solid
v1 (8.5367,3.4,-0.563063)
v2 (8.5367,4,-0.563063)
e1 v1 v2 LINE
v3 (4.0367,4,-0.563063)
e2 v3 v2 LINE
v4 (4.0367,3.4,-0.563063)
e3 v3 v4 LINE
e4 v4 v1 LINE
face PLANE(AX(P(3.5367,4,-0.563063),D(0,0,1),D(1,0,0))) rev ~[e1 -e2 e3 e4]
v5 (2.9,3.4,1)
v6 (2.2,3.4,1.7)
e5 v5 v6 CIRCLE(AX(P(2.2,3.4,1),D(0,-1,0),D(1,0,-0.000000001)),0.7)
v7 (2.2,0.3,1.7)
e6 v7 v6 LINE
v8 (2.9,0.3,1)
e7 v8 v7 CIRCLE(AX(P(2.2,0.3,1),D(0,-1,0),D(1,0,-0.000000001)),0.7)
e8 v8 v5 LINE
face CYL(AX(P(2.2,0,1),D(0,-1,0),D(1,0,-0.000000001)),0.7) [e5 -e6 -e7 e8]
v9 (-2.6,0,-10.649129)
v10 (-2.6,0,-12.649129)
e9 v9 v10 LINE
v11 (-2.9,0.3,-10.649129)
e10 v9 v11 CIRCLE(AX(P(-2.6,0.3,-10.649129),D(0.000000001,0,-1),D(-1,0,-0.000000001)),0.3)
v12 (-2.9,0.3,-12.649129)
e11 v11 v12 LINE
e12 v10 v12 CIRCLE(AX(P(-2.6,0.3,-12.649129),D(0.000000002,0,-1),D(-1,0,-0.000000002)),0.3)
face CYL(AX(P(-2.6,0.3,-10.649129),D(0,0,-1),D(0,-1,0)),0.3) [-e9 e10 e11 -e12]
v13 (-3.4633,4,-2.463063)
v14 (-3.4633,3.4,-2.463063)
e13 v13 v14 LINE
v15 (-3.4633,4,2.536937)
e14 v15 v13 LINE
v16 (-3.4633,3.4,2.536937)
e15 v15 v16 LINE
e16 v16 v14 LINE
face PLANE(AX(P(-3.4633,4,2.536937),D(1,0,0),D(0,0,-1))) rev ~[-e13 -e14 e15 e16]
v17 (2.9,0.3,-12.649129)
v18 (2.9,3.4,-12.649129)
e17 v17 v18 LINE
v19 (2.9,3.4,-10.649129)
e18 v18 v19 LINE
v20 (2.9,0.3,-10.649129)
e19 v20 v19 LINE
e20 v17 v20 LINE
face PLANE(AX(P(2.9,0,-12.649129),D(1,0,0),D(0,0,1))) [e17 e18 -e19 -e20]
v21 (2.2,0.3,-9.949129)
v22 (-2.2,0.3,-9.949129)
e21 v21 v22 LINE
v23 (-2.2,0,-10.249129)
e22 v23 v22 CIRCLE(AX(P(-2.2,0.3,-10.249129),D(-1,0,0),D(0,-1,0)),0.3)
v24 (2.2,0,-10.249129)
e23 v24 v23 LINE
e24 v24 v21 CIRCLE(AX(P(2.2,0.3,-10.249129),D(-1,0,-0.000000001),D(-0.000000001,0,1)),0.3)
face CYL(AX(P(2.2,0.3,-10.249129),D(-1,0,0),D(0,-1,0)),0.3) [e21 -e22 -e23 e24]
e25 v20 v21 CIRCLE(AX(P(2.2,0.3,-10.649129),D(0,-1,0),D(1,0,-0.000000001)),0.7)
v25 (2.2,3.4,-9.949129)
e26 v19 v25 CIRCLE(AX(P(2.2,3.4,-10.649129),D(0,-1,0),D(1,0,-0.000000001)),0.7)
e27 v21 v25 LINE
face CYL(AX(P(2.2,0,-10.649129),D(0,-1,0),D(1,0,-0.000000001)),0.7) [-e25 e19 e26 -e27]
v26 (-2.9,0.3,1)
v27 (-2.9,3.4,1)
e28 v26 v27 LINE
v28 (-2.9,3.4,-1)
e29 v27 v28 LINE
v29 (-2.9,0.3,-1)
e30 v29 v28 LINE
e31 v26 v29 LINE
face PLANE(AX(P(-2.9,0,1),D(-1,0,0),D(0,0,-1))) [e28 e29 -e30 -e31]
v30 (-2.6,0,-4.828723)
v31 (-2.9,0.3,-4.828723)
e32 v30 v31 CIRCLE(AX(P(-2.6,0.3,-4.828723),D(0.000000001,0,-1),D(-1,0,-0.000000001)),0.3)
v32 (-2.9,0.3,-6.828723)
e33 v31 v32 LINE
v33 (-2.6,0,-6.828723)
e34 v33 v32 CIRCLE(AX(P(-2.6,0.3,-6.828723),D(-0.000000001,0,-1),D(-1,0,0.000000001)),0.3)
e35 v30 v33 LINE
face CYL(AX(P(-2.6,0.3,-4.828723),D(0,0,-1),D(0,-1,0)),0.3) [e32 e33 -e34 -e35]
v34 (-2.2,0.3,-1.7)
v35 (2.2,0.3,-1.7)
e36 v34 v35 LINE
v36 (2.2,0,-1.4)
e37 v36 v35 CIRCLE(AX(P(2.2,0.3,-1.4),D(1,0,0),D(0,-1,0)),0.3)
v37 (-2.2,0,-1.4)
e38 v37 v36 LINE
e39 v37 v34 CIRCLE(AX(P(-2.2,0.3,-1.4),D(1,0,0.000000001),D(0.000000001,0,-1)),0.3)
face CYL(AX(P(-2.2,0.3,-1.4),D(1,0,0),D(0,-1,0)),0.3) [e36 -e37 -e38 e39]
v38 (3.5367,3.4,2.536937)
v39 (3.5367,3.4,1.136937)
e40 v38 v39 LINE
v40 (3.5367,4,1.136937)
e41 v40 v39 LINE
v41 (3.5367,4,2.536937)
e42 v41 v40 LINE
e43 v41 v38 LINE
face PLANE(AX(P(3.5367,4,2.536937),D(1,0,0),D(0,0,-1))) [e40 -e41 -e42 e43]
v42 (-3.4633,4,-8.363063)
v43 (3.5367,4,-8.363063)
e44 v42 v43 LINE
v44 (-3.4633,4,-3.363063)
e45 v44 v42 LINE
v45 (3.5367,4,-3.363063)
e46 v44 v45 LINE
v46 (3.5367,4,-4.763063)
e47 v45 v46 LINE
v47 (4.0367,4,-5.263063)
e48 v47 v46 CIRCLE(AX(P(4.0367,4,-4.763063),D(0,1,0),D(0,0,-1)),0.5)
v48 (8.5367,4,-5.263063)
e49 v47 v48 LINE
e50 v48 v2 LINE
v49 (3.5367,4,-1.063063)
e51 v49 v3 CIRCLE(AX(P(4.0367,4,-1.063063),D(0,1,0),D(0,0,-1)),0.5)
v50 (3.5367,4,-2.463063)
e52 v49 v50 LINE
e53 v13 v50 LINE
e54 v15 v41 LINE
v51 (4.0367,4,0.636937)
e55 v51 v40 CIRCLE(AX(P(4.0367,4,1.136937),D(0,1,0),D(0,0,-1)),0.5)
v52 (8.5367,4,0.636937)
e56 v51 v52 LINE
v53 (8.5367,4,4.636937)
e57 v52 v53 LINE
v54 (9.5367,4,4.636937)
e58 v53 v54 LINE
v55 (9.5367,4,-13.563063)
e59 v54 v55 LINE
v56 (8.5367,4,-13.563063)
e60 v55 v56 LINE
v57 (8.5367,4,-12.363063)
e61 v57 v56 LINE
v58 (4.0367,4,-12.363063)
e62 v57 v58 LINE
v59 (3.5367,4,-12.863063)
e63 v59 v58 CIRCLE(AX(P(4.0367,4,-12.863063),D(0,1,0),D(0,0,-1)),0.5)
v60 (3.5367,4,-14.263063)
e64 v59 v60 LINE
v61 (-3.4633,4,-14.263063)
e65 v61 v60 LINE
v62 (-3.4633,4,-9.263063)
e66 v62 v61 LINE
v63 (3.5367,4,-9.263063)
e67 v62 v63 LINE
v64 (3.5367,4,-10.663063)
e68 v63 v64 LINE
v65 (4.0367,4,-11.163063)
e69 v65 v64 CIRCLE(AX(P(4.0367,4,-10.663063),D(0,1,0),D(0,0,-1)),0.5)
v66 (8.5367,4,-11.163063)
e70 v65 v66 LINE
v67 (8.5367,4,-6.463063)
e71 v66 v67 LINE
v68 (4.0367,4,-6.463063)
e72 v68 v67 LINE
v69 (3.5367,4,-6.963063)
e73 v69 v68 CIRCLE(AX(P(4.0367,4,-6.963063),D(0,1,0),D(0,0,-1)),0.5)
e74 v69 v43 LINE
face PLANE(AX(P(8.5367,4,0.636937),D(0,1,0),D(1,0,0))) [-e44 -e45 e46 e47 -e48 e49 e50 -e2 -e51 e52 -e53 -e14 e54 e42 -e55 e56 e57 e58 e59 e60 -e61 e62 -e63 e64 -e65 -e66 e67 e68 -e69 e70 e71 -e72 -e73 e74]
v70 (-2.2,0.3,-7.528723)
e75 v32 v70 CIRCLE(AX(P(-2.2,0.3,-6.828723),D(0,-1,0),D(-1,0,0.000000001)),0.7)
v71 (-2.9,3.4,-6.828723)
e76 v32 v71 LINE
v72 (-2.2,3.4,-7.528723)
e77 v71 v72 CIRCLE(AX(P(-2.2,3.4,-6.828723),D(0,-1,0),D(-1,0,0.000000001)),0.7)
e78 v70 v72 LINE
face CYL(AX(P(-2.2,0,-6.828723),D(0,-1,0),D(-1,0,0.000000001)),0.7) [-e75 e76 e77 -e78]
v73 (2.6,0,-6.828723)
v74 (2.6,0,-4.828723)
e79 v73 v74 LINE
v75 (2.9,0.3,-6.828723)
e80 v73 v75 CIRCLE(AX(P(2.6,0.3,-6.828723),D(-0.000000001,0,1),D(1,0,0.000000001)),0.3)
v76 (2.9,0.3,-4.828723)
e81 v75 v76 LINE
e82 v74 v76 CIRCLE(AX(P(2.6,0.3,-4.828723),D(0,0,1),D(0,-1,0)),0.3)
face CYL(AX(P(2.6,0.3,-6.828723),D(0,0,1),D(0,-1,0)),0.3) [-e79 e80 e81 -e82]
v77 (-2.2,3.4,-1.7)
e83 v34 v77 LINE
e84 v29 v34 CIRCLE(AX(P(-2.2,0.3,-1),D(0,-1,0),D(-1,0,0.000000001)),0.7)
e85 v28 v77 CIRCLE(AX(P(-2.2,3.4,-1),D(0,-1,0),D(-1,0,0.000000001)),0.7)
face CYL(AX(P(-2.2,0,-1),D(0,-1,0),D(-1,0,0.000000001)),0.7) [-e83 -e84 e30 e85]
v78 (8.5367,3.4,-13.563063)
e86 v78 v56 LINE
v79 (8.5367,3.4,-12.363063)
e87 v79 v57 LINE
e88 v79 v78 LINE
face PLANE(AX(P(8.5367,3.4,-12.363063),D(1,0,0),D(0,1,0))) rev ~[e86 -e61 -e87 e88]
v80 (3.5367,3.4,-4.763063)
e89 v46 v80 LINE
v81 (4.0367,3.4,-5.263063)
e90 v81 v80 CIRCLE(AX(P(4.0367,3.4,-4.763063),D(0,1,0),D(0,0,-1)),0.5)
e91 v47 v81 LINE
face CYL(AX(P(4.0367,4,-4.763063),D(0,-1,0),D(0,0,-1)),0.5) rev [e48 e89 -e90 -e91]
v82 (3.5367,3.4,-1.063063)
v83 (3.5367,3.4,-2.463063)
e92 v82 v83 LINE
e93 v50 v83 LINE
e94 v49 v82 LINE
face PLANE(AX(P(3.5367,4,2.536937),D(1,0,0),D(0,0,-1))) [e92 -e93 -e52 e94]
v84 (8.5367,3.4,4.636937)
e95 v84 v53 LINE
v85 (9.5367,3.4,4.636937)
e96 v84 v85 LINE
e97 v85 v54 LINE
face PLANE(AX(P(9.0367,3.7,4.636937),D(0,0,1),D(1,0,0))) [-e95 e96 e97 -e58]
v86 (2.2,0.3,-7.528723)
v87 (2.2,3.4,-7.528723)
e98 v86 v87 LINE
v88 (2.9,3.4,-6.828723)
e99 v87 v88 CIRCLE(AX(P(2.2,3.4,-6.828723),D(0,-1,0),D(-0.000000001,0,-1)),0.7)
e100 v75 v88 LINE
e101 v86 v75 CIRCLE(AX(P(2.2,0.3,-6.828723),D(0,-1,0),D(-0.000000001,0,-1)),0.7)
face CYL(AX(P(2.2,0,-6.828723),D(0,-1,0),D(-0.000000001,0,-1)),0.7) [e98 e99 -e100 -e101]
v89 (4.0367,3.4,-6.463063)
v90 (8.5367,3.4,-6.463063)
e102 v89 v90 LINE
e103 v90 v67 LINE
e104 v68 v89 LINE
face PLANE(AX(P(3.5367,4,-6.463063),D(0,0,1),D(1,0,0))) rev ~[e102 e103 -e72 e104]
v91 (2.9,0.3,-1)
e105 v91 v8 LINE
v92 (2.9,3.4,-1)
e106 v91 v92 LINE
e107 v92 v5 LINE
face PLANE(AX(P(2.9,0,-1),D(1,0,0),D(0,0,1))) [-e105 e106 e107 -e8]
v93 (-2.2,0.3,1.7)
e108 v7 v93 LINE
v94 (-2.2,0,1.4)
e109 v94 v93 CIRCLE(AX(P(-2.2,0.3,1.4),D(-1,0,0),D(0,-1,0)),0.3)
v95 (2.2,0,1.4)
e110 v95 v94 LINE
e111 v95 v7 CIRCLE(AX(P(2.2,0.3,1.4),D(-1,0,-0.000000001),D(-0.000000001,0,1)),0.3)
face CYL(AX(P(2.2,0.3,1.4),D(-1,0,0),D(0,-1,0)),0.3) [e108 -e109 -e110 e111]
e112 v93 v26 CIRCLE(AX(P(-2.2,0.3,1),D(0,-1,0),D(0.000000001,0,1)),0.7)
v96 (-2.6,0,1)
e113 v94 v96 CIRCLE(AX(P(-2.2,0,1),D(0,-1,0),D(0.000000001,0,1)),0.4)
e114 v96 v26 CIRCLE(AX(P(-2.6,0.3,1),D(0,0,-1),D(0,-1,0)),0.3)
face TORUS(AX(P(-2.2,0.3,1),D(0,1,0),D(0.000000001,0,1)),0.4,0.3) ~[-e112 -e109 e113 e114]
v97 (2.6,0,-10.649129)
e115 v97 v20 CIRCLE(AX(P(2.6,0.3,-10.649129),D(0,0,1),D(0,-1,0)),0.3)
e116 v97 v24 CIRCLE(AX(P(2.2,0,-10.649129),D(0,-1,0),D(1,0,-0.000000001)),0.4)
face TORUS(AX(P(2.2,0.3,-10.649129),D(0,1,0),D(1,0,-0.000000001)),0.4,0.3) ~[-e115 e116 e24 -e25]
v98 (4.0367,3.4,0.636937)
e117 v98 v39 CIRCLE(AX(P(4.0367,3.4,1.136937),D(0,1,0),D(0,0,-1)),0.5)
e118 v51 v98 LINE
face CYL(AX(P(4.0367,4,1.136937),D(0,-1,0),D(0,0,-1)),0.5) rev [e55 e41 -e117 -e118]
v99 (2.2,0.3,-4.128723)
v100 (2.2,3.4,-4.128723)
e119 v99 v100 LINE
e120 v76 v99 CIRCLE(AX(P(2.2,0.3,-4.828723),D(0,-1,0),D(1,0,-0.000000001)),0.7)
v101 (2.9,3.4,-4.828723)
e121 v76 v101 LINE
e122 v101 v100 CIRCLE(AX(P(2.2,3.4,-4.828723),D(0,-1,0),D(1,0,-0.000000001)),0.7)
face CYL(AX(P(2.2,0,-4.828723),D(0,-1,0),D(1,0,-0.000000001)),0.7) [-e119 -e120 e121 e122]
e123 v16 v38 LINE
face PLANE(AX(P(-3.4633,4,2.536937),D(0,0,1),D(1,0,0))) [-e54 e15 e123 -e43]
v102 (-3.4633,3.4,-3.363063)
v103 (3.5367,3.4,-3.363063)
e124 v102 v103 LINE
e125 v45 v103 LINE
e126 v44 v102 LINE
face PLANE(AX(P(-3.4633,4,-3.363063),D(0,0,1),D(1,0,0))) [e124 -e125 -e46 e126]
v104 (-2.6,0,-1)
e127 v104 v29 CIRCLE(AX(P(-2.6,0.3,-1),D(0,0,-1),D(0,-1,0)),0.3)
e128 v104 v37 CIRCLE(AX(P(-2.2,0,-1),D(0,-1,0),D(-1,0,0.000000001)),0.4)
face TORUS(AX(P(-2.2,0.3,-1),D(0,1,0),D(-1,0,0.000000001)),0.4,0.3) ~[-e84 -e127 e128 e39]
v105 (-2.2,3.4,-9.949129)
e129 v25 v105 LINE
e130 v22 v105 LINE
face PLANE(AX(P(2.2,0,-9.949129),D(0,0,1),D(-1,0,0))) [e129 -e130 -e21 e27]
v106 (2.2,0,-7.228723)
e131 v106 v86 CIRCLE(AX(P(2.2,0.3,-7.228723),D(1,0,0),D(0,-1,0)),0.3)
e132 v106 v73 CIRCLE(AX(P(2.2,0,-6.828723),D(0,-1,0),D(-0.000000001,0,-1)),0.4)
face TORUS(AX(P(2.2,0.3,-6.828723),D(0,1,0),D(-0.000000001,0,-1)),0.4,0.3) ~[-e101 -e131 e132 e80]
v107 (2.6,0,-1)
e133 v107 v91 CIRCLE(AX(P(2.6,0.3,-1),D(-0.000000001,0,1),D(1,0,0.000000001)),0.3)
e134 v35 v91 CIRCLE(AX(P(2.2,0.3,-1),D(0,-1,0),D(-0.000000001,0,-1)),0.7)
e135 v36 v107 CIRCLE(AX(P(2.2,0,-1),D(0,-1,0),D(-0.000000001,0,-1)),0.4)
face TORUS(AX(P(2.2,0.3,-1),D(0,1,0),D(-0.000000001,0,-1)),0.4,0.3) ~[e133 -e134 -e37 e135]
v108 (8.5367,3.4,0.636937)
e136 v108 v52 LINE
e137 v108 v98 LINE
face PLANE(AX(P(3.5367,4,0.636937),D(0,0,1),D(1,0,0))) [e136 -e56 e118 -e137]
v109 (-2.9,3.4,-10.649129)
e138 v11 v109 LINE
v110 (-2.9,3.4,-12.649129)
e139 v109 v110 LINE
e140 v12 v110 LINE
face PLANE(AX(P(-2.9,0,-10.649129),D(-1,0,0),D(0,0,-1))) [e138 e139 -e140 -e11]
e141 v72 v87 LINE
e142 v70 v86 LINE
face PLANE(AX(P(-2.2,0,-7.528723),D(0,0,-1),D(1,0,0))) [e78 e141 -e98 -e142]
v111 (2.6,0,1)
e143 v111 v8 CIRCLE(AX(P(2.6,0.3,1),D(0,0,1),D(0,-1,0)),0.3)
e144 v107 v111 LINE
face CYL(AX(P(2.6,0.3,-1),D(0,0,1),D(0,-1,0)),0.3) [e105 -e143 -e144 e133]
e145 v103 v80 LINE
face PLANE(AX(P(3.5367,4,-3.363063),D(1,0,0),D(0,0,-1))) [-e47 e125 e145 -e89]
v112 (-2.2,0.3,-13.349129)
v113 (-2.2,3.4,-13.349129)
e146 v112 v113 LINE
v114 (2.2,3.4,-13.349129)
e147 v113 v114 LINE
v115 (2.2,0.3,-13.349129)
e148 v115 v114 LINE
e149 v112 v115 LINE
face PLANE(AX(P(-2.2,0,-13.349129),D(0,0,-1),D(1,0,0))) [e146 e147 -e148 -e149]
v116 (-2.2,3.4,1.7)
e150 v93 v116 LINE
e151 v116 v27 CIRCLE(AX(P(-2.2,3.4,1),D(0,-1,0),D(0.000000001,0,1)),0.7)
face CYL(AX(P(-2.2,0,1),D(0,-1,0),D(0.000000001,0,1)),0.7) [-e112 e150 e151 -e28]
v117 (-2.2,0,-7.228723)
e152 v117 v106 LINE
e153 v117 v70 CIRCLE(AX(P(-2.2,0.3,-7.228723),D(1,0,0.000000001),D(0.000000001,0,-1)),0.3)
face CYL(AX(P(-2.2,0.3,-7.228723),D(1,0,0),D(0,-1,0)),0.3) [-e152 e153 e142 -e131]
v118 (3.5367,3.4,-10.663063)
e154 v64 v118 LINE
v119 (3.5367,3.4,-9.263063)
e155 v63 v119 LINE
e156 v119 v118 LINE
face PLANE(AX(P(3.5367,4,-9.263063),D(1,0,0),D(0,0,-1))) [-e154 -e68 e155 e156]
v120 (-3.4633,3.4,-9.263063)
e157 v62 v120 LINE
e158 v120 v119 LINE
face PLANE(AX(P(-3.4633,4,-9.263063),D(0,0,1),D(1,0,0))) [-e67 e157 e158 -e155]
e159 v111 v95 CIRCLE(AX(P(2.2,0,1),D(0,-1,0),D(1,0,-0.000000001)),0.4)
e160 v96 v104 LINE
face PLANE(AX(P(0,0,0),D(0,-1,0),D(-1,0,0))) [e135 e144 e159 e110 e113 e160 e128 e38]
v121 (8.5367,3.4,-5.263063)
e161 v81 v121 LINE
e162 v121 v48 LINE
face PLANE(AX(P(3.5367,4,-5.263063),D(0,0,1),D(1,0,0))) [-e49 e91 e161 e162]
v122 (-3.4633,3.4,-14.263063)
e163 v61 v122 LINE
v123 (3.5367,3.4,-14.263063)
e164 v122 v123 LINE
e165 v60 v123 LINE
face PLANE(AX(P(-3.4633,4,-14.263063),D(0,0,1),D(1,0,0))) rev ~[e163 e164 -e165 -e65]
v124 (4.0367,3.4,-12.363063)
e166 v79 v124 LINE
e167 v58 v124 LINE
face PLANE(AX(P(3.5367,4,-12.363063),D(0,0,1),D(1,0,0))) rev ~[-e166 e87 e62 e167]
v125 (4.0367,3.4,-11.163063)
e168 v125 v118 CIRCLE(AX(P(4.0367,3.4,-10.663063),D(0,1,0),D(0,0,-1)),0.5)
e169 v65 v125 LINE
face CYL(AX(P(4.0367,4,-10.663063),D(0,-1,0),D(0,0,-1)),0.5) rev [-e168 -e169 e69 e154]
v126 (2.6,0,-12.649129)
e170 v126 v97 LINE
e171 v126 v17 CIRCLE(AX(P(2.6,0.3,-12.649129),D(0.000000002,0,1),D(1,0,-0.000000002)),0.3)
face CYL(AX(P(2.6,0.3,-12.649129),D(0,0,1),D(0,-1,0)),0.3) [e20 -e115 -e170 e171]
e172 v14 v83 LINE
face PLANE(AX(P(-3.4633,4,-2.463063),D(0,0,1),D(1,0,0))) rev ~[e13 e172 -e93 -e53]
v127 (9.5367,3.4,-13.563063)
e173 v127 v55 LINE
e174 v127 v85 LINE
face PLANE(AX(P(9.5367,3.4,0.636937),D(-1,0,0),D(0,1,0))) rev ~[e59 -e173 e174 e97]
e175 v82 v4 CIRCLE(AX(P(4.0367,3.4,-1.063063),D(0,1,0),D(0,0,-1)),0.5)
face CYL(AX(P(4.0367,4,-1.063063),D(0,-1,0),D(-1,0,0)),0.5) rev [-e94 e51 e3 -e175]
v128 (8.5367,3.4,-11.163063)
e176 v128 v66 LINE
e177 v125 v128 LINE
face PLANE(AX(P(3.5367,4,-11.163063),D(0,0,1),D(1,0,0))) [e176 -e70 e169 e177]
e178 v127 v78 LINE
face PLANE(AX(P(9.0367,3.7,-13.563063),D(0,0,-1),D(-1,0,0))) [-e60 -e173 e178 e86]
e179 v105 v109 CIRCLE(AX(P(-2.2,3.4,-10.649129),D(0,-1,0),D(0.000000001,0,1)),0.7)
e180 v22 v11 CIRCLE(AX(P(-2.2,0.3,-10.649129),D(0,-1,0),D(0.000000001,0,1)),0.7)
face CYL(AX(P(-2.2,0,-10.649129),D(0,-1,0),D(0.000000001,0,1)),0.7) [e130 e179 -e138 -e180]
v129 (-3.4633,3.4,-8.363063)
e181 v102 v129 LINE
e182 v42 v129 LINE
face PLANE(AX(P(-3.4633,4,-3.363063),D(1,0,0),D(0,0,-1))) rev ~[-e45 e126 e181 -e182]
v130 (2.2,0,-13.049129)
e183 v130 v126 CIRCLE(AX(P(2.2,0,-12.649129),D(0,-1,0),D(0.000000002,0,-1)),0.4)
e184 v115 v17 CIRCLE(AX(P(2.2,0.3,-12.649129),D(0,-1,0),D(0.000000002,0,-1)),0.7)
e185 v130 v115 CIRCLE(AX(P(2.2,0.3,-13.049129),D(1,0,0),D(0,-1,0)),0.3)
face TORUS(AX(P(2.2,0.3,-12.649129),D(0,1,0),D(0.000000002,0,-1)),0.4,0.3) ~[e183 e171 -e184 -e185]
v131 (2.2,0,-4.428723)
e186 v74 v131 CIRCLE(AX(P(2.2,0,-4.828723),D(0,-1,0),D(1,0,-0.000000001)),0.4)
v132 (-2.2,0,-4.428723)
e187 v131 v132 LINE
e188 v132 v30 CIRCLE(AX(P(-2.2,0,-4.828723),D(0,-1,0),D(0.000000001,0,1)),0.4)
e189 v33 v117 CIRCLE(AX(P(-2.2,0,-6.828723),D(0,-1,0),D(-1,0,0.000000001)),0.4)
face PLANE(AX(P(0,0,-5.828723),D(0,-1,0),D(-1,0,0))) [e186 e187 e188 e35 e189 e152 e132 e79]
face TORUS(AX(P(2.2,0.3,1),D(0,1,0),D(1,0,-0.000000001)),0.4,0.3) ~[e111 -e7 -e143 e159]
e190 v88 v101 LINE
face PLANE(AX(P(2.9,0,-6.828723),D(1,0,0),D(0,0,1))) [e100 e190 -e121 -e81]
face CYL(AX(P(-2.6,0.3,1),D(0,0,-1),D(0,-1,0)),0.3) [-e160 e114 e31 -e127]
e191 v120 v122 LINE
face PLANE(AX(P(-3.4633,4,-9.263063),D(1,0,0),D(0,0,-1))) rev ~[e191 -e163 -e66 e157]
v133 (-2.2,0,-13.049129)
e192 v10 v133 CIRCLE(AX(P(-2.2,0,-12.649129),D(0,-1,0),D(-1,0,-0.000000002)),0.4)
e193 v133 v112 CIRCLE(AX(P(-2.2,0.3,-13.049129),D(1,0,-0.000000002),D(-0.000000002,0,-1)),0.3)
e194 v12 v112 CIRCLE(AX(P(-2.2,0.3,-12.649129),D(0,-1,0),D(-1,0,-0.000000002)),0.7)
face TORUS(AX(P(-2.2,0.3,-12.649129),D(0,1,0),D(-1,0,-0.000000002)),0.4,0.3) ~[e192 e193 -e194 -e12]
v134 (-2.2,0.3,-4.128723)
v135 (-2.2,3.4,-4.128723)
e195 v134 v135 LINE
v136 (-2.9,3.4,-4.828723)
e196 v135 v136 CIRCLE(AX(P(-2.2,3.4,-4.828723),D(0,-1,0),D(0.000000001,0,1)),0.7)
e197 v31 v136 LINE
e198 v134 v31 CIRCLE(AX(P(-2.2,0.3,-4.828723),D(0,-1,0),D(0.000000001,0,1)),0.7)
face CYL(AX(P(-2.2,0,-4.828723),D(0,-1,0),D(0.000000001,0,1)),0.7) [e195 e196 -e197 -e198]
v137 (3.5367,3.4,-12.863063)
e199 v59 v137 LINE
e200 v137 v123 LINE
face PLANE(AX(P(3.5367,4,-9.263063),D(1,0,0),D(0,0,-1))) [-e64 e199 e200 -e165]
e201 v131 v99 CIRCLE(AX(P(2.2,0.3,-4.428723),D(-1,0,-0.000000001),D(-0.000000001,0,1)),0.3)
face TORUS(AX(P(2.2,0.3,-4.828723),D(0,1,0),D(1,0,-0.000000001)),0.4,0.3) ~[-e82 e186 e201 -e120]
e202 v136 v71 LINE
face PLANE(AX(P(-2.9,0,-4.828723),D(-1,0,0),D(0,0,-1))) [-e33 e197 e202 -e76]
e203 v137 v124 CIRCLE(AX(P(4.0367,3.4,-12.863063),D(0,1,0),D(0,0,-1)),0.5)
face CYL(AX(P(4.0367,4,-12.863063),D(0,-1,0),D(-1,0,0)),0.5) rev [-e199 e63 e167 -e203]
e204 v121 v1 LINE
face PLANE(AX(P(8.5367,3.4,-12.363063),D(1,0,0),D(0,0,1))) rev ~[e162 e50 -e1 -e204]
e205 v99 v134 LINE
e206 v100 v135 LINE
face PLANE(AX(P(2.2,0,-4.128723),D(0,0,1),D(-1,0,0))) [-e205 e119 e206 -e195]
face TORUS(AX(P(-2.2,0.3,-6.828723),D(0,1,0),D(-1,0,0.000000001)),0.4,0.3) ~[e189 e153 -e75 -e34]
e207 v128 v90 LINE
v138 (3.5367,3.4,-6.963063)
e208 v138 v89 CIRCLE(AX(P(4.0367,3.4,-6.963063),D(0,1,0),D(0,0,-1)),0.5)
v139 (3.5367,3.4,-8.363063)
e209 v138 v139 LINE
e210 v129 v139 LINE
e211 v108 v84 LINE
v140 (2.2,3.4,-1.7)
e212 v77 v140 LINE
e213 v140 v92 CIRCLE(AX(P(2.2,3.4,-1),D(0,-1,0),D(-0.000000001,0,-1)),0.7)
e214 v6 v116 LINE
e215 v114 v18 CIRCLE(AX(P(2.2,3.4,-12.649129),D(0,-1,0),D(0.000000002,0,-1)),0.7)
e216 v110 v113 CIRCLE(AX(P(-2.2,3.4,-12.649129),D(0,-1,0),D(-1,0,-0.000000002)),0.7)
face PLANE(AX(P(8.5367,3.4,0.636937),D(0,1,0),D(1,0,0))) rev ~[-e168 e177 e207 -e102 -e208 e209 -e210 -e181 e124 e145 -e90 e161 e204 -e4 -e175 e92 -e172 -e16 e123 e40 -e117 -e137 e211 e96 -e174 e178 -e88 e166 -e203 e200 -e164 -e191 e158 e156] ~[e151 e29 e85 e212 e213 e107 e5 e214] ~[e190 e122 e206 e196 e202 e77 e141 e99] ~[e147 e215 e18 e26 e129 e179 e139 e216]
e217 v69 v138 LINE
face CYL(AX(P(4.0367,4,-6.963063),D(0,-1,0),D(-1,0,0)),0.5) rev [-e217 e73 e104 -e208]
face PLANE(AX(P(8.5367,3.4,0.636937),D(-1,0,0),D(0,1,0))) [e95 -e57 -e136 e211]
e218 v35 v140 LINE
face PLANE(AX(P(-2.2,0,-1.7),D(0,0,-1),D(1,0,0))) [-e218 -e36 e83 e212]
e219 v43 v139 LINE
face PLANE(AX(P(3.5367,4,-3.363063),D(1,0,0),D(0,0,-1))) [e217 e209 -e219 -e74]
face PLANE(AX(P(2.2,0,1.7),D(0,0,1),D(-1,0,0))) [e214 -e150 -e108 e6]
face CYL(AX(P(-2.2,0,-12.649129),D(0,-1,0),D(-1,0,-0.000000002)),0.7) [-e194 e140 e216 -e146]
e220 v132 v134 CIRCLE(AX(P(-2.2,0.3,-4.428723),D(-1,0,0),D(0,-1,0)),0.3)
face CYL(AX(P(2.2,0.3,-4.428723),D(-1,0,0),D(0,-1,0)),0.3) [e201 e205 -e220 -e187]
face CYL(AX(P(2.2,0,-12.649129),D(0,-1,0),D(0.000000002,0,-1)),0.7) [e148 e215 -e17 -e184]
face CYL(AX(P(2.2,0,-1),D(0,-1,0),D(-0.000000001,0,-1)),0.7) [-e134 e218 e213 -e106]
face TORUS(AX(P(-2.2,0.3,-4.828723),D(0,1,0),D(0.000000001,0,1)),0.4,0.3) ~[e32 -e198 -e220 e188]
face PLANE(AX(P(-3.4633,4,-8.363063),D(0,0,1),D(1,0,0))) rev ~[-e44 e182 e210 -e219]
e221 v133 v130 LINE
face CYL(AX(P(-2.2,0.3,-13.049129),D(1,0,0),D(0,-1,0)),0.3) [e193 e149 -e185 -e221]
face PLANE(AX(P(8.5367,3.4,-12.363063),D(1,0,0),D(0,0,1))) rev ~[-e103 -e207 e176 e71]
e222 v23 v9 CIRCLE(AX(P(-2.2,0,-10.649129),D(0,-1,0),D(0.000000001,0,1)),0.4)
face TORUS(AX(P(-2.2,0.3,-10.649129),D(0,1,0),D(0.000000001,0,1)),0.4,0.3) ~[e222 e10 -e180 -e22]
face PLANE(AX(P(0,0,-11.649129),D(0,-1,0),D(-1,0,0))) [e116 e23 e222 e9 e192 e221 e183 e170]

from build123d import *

# Parameters (mm, degrees)
EXTRUDE_1_DEPTH   = 4
EXTRUDE_1_2_DEPTH = 4
EXTRUDE_1_3_DEPTH = 4
SKETCH_2_W        = 7
SKETCH_2_H        = 5
EXTRUDE_2_DEPTH   = 0.6
SKETCH_3_W        = 6
SKETCH_3_H        = 1.2
EXTRUDE_3_DEPTH   = 0.6
SKETCH_4_W        = 1
SKETCH_4_H        = 13
EXTRUDE_4_DEPTH   = 0.6
FILLET_1_R        = 0.5
SKETCH_5_W        = 1
SKETCH_5_H        = 0.6
EXTRUDE_5_DEPTH   = 1.2
FILLET_2_R        = 0.3
SKETCH_7_W        = 1
SKETCH_7_H        = 0.6
EXTRUDE_6_DEPTH   = 4


with BuildPart() as part:
    # 草图1 → 凸台-拉伸1 (new body)
    with BuildSketch(Plane(origin=(0, 0, 0), x_dir=(1, 0, 0), z_dir=(0, 1, 0))):
        with BuildLine():
            Line((-2.2, 1.7), (2.2, 1.7))
            ThreePointArc((2.2, 1.7), (2.694974747, 1.494974747), (2.9, 1))
            Line((2.9, 1), (2.9, -1))
            ThreePointArc((2.9, -1), (2.694974747, -1.494974747), (2.2, -1.7))
            Line((2.2, -1.7), (-2.2, -1.7))
            ThreePointArc((-2.2, -1.7), (-2.694974747, -1.494974747), (-2.9, -1))
            Line((-2.9, -1), (-2.9, 1))
            ThreePointArc((-2.9, 1), (-2.694974747, 1.494974747), (-2.2, 1.7))
        make_face()
    extrude(amount=EXTRUDE_1_DEPTH)



with BuildPart() as body_2:
    # 草图1 → Extrude 1 2 (new body)
    with BuildSketch(Plane(origin=(0, 0, 0), x_dir=(1, 0, 0), z_dir=(0, 1, 0))):
        with BuildLine():
            Line((-2.2, 7.528722779), (2.2, 7.528722779))
            ThreePointArc((2.2, 7.528722779), (2.694974747, 7.323697526), (2.9, 6.828722779))
            Line((2.9, 6.828722779), (2.9, 4.828722779))
            ThreePointArc((2.9, 4.828722779), (2.694974747, 4.333748032), (2.2, 4.128722779))
            Line((2.2, 4.128722779), (-2.2, 4.128722779))
            ThreePointArc((-2.2, 4.128722779), (-2.694974747, 4.333748032), (-2.9, 4.828722779))
            Line((-2.9, 4.828722779), (-2.9, 6.828722779))
            ThreePointArc((-2.9, 6.828722779), (-2.694974747, 7.323697526), (-2.2, 7.528722779))
        make_face()
    extrude(amount=EXTRUDE_1_2_DEPTH)


with BuildPart() as body_3:
    # 草图1 → Extrude 1 3 (new body)
    with BuildSketch(Plane(origin=(0, 0, 0), x_dir=(1, 0, 0), z_dir=(0, 1, 0))):
        with BuildLine():
            Line((-2.2, 13.349128593), (2.2, 13.349128593))
            ThreePointArc((2.2, 13.349128593), (2.694974747, 13.144103339), (2.9, 12.649128593))
            Line((2.9, 12.649128593), (2.9, 10.649128593))
            ThreePointArc((2.9, 10.649128593), (2.694974747, 10.154153846), (2.2, 9.949128593))
            Line((2.2, 9.949128593), (-2.2, 9.949128593))
            ThreePointArc((-2.2, 9.949128593), (-2.694974747, 10.154153846), (-2.9, 10.649128593))
            Line((-2.9, 10.649128593), (-2.9, 12.649128593))
            ThreePointArc((-2.9, 12.649128593), (-2.694974747, 13.144103339), (-2.2, 13.349128593))
        make_face()
    extrude(amount=EXTRUDE_1_3_DEPTH)


with BuildPart() as part_1:
    add(part.part)

    add(body_2.part)  # 凸台-拉伸2 merges body 2

    add(body_3.part)  # 凸台-拉伸2 merges body 3
    # 草图2 → 凸台-拉伸2 (add)
    with BuildSketch(Plane(origin=(0, 4, 0), x_dir=(1, 0, 0), z_dir=(0, 1, 0))):
        with Locations((0.036699987, 11.763062551)):
            Rectangle(SKETCH_2_W, SKETCH_2_H)
        with Locations((0.036699987, 5.863062551)):
            Rectangle(SKETCH_2_W, SKETCH_2_H)
        with Locations((0.036699987, -0.036937449)):
            Rectangle(SKETCH_2_W, SKETCH_2_H)
    extrude(amount=-EXTRUDE_2_DEPTH)

    # 草图3 → 凸台-拉伸3 (add)
    with BuildSketch(Plane(origin=(0, 4, 0), x_dir=(1, 0, 0), z_dir=(0, 1, 0))):
        with Locations((6.536699987, 11.763062551)):
            Rectangle(SKETCH_3_W, SKETCH_3_H)
        with Locations((6.536699987, 5.863062551)):
            Rectangle(SKETCH_3_W, SKETCH_3_H)
        with Locations((6.536699987, -0.036937449)):
            Rectangle(SKETCH_3_W, SKETCH_3_H)
    extrude(amount=-EXTRUDE_3_DEPTH)

    # 草图4 → 凸台-拉伸4 (add)
    with BuildSketch(Plane.XZ.offset(-3.4)):
        with Locations((9.036699987, -5.863062551)):
            Rectangle(SKETCH_4_W, SKETCH_4_H)
    extrude(amount=-EXTRUDE_4_DEPTH)

    # 圆角1
    fillet_1_edges = [part_1.edges().sort_by_distance(p)[0] for p in [
        (3.536699987, 3.7, -11.163062551),
        (3.536699987, 3.7, -12.363062551),
        (3.536699987, 3.7, 0.636937449),
        (3.536699987, 3.7, -0.563062551),
        (3.536699987, 3.7, -5.263062551),
        (3.536699987, 3.7, -6.463062551),
    ]]
    fillet(fillet_1_edges, radius=FILLET_1_R)

    # 草图5 → 凸台-拉伸5 (add)
    with BuildSketch(Plane(origin=(0, 0, -12.363062551), x_dir=(-1, 0, 0), z_dir=(0, 0, -1))):
        with Locations((-9.036699987, 3.7)):
            Rectangle(SKETCH_5_W, SKETCH_5_H)
    extrude(amount=EXTRUDE_5_DEPTH)

    # 圆角2
    fillet_2_edges = [part_1.edges().sort_by_distance(p)[0] for p in [
        (-2.9, 0, 0),
        (-2.694974747, 0, -1.494974747),
        (-2.694974747, 0, -13.144103339),
        (-2.9, 0, -11.649128593),
        (-2.694974747, 0, -10.154153846),
        (0, 0, -9.949128593),
        (2.694974747, 0, -10.154153846),
        (2.9, 0, -11.649128593),
        (2.694974747, 0, -13.144103339),
        (0, 0, -13.349128593),
        (0, 0, -1.7),
        (2.694974747, 0, -1.494974747),
        (2.9, 0, 0),
        (2.694974747, 0, 1.494974747),
        (-2.694974747, 0, -7.323697526),
        (-2.9, 0, -5.828722779),
        (-2.694974747, 0, -4.333748032),
        (0, 0, -4.128722779),
        (2.694974747, 0, -4.333748032),
        (2.9, 0, -5.828722779),
        (2.694974747, 0, -7.323697526),
        (0, 0, 1.7),
        (0, 0, -7.528722779),
        (-2.694974747, 0, 1.494974747),
    ]]
    fillet(fillet_2_edges, radius=FILLET_2_R)

    # 草图7 → 凸台-拉伸6 (add)
    with BuildSketch(Plane.XY.offset(0.636937449)):
        with Locations((9.036699987, 3.7)):
            Rectangle(SKETCH_7_W, SKETCH_7_H)
    extrude(amount=EXTRUDE_6_DEPTH)


solid = part_1.part
